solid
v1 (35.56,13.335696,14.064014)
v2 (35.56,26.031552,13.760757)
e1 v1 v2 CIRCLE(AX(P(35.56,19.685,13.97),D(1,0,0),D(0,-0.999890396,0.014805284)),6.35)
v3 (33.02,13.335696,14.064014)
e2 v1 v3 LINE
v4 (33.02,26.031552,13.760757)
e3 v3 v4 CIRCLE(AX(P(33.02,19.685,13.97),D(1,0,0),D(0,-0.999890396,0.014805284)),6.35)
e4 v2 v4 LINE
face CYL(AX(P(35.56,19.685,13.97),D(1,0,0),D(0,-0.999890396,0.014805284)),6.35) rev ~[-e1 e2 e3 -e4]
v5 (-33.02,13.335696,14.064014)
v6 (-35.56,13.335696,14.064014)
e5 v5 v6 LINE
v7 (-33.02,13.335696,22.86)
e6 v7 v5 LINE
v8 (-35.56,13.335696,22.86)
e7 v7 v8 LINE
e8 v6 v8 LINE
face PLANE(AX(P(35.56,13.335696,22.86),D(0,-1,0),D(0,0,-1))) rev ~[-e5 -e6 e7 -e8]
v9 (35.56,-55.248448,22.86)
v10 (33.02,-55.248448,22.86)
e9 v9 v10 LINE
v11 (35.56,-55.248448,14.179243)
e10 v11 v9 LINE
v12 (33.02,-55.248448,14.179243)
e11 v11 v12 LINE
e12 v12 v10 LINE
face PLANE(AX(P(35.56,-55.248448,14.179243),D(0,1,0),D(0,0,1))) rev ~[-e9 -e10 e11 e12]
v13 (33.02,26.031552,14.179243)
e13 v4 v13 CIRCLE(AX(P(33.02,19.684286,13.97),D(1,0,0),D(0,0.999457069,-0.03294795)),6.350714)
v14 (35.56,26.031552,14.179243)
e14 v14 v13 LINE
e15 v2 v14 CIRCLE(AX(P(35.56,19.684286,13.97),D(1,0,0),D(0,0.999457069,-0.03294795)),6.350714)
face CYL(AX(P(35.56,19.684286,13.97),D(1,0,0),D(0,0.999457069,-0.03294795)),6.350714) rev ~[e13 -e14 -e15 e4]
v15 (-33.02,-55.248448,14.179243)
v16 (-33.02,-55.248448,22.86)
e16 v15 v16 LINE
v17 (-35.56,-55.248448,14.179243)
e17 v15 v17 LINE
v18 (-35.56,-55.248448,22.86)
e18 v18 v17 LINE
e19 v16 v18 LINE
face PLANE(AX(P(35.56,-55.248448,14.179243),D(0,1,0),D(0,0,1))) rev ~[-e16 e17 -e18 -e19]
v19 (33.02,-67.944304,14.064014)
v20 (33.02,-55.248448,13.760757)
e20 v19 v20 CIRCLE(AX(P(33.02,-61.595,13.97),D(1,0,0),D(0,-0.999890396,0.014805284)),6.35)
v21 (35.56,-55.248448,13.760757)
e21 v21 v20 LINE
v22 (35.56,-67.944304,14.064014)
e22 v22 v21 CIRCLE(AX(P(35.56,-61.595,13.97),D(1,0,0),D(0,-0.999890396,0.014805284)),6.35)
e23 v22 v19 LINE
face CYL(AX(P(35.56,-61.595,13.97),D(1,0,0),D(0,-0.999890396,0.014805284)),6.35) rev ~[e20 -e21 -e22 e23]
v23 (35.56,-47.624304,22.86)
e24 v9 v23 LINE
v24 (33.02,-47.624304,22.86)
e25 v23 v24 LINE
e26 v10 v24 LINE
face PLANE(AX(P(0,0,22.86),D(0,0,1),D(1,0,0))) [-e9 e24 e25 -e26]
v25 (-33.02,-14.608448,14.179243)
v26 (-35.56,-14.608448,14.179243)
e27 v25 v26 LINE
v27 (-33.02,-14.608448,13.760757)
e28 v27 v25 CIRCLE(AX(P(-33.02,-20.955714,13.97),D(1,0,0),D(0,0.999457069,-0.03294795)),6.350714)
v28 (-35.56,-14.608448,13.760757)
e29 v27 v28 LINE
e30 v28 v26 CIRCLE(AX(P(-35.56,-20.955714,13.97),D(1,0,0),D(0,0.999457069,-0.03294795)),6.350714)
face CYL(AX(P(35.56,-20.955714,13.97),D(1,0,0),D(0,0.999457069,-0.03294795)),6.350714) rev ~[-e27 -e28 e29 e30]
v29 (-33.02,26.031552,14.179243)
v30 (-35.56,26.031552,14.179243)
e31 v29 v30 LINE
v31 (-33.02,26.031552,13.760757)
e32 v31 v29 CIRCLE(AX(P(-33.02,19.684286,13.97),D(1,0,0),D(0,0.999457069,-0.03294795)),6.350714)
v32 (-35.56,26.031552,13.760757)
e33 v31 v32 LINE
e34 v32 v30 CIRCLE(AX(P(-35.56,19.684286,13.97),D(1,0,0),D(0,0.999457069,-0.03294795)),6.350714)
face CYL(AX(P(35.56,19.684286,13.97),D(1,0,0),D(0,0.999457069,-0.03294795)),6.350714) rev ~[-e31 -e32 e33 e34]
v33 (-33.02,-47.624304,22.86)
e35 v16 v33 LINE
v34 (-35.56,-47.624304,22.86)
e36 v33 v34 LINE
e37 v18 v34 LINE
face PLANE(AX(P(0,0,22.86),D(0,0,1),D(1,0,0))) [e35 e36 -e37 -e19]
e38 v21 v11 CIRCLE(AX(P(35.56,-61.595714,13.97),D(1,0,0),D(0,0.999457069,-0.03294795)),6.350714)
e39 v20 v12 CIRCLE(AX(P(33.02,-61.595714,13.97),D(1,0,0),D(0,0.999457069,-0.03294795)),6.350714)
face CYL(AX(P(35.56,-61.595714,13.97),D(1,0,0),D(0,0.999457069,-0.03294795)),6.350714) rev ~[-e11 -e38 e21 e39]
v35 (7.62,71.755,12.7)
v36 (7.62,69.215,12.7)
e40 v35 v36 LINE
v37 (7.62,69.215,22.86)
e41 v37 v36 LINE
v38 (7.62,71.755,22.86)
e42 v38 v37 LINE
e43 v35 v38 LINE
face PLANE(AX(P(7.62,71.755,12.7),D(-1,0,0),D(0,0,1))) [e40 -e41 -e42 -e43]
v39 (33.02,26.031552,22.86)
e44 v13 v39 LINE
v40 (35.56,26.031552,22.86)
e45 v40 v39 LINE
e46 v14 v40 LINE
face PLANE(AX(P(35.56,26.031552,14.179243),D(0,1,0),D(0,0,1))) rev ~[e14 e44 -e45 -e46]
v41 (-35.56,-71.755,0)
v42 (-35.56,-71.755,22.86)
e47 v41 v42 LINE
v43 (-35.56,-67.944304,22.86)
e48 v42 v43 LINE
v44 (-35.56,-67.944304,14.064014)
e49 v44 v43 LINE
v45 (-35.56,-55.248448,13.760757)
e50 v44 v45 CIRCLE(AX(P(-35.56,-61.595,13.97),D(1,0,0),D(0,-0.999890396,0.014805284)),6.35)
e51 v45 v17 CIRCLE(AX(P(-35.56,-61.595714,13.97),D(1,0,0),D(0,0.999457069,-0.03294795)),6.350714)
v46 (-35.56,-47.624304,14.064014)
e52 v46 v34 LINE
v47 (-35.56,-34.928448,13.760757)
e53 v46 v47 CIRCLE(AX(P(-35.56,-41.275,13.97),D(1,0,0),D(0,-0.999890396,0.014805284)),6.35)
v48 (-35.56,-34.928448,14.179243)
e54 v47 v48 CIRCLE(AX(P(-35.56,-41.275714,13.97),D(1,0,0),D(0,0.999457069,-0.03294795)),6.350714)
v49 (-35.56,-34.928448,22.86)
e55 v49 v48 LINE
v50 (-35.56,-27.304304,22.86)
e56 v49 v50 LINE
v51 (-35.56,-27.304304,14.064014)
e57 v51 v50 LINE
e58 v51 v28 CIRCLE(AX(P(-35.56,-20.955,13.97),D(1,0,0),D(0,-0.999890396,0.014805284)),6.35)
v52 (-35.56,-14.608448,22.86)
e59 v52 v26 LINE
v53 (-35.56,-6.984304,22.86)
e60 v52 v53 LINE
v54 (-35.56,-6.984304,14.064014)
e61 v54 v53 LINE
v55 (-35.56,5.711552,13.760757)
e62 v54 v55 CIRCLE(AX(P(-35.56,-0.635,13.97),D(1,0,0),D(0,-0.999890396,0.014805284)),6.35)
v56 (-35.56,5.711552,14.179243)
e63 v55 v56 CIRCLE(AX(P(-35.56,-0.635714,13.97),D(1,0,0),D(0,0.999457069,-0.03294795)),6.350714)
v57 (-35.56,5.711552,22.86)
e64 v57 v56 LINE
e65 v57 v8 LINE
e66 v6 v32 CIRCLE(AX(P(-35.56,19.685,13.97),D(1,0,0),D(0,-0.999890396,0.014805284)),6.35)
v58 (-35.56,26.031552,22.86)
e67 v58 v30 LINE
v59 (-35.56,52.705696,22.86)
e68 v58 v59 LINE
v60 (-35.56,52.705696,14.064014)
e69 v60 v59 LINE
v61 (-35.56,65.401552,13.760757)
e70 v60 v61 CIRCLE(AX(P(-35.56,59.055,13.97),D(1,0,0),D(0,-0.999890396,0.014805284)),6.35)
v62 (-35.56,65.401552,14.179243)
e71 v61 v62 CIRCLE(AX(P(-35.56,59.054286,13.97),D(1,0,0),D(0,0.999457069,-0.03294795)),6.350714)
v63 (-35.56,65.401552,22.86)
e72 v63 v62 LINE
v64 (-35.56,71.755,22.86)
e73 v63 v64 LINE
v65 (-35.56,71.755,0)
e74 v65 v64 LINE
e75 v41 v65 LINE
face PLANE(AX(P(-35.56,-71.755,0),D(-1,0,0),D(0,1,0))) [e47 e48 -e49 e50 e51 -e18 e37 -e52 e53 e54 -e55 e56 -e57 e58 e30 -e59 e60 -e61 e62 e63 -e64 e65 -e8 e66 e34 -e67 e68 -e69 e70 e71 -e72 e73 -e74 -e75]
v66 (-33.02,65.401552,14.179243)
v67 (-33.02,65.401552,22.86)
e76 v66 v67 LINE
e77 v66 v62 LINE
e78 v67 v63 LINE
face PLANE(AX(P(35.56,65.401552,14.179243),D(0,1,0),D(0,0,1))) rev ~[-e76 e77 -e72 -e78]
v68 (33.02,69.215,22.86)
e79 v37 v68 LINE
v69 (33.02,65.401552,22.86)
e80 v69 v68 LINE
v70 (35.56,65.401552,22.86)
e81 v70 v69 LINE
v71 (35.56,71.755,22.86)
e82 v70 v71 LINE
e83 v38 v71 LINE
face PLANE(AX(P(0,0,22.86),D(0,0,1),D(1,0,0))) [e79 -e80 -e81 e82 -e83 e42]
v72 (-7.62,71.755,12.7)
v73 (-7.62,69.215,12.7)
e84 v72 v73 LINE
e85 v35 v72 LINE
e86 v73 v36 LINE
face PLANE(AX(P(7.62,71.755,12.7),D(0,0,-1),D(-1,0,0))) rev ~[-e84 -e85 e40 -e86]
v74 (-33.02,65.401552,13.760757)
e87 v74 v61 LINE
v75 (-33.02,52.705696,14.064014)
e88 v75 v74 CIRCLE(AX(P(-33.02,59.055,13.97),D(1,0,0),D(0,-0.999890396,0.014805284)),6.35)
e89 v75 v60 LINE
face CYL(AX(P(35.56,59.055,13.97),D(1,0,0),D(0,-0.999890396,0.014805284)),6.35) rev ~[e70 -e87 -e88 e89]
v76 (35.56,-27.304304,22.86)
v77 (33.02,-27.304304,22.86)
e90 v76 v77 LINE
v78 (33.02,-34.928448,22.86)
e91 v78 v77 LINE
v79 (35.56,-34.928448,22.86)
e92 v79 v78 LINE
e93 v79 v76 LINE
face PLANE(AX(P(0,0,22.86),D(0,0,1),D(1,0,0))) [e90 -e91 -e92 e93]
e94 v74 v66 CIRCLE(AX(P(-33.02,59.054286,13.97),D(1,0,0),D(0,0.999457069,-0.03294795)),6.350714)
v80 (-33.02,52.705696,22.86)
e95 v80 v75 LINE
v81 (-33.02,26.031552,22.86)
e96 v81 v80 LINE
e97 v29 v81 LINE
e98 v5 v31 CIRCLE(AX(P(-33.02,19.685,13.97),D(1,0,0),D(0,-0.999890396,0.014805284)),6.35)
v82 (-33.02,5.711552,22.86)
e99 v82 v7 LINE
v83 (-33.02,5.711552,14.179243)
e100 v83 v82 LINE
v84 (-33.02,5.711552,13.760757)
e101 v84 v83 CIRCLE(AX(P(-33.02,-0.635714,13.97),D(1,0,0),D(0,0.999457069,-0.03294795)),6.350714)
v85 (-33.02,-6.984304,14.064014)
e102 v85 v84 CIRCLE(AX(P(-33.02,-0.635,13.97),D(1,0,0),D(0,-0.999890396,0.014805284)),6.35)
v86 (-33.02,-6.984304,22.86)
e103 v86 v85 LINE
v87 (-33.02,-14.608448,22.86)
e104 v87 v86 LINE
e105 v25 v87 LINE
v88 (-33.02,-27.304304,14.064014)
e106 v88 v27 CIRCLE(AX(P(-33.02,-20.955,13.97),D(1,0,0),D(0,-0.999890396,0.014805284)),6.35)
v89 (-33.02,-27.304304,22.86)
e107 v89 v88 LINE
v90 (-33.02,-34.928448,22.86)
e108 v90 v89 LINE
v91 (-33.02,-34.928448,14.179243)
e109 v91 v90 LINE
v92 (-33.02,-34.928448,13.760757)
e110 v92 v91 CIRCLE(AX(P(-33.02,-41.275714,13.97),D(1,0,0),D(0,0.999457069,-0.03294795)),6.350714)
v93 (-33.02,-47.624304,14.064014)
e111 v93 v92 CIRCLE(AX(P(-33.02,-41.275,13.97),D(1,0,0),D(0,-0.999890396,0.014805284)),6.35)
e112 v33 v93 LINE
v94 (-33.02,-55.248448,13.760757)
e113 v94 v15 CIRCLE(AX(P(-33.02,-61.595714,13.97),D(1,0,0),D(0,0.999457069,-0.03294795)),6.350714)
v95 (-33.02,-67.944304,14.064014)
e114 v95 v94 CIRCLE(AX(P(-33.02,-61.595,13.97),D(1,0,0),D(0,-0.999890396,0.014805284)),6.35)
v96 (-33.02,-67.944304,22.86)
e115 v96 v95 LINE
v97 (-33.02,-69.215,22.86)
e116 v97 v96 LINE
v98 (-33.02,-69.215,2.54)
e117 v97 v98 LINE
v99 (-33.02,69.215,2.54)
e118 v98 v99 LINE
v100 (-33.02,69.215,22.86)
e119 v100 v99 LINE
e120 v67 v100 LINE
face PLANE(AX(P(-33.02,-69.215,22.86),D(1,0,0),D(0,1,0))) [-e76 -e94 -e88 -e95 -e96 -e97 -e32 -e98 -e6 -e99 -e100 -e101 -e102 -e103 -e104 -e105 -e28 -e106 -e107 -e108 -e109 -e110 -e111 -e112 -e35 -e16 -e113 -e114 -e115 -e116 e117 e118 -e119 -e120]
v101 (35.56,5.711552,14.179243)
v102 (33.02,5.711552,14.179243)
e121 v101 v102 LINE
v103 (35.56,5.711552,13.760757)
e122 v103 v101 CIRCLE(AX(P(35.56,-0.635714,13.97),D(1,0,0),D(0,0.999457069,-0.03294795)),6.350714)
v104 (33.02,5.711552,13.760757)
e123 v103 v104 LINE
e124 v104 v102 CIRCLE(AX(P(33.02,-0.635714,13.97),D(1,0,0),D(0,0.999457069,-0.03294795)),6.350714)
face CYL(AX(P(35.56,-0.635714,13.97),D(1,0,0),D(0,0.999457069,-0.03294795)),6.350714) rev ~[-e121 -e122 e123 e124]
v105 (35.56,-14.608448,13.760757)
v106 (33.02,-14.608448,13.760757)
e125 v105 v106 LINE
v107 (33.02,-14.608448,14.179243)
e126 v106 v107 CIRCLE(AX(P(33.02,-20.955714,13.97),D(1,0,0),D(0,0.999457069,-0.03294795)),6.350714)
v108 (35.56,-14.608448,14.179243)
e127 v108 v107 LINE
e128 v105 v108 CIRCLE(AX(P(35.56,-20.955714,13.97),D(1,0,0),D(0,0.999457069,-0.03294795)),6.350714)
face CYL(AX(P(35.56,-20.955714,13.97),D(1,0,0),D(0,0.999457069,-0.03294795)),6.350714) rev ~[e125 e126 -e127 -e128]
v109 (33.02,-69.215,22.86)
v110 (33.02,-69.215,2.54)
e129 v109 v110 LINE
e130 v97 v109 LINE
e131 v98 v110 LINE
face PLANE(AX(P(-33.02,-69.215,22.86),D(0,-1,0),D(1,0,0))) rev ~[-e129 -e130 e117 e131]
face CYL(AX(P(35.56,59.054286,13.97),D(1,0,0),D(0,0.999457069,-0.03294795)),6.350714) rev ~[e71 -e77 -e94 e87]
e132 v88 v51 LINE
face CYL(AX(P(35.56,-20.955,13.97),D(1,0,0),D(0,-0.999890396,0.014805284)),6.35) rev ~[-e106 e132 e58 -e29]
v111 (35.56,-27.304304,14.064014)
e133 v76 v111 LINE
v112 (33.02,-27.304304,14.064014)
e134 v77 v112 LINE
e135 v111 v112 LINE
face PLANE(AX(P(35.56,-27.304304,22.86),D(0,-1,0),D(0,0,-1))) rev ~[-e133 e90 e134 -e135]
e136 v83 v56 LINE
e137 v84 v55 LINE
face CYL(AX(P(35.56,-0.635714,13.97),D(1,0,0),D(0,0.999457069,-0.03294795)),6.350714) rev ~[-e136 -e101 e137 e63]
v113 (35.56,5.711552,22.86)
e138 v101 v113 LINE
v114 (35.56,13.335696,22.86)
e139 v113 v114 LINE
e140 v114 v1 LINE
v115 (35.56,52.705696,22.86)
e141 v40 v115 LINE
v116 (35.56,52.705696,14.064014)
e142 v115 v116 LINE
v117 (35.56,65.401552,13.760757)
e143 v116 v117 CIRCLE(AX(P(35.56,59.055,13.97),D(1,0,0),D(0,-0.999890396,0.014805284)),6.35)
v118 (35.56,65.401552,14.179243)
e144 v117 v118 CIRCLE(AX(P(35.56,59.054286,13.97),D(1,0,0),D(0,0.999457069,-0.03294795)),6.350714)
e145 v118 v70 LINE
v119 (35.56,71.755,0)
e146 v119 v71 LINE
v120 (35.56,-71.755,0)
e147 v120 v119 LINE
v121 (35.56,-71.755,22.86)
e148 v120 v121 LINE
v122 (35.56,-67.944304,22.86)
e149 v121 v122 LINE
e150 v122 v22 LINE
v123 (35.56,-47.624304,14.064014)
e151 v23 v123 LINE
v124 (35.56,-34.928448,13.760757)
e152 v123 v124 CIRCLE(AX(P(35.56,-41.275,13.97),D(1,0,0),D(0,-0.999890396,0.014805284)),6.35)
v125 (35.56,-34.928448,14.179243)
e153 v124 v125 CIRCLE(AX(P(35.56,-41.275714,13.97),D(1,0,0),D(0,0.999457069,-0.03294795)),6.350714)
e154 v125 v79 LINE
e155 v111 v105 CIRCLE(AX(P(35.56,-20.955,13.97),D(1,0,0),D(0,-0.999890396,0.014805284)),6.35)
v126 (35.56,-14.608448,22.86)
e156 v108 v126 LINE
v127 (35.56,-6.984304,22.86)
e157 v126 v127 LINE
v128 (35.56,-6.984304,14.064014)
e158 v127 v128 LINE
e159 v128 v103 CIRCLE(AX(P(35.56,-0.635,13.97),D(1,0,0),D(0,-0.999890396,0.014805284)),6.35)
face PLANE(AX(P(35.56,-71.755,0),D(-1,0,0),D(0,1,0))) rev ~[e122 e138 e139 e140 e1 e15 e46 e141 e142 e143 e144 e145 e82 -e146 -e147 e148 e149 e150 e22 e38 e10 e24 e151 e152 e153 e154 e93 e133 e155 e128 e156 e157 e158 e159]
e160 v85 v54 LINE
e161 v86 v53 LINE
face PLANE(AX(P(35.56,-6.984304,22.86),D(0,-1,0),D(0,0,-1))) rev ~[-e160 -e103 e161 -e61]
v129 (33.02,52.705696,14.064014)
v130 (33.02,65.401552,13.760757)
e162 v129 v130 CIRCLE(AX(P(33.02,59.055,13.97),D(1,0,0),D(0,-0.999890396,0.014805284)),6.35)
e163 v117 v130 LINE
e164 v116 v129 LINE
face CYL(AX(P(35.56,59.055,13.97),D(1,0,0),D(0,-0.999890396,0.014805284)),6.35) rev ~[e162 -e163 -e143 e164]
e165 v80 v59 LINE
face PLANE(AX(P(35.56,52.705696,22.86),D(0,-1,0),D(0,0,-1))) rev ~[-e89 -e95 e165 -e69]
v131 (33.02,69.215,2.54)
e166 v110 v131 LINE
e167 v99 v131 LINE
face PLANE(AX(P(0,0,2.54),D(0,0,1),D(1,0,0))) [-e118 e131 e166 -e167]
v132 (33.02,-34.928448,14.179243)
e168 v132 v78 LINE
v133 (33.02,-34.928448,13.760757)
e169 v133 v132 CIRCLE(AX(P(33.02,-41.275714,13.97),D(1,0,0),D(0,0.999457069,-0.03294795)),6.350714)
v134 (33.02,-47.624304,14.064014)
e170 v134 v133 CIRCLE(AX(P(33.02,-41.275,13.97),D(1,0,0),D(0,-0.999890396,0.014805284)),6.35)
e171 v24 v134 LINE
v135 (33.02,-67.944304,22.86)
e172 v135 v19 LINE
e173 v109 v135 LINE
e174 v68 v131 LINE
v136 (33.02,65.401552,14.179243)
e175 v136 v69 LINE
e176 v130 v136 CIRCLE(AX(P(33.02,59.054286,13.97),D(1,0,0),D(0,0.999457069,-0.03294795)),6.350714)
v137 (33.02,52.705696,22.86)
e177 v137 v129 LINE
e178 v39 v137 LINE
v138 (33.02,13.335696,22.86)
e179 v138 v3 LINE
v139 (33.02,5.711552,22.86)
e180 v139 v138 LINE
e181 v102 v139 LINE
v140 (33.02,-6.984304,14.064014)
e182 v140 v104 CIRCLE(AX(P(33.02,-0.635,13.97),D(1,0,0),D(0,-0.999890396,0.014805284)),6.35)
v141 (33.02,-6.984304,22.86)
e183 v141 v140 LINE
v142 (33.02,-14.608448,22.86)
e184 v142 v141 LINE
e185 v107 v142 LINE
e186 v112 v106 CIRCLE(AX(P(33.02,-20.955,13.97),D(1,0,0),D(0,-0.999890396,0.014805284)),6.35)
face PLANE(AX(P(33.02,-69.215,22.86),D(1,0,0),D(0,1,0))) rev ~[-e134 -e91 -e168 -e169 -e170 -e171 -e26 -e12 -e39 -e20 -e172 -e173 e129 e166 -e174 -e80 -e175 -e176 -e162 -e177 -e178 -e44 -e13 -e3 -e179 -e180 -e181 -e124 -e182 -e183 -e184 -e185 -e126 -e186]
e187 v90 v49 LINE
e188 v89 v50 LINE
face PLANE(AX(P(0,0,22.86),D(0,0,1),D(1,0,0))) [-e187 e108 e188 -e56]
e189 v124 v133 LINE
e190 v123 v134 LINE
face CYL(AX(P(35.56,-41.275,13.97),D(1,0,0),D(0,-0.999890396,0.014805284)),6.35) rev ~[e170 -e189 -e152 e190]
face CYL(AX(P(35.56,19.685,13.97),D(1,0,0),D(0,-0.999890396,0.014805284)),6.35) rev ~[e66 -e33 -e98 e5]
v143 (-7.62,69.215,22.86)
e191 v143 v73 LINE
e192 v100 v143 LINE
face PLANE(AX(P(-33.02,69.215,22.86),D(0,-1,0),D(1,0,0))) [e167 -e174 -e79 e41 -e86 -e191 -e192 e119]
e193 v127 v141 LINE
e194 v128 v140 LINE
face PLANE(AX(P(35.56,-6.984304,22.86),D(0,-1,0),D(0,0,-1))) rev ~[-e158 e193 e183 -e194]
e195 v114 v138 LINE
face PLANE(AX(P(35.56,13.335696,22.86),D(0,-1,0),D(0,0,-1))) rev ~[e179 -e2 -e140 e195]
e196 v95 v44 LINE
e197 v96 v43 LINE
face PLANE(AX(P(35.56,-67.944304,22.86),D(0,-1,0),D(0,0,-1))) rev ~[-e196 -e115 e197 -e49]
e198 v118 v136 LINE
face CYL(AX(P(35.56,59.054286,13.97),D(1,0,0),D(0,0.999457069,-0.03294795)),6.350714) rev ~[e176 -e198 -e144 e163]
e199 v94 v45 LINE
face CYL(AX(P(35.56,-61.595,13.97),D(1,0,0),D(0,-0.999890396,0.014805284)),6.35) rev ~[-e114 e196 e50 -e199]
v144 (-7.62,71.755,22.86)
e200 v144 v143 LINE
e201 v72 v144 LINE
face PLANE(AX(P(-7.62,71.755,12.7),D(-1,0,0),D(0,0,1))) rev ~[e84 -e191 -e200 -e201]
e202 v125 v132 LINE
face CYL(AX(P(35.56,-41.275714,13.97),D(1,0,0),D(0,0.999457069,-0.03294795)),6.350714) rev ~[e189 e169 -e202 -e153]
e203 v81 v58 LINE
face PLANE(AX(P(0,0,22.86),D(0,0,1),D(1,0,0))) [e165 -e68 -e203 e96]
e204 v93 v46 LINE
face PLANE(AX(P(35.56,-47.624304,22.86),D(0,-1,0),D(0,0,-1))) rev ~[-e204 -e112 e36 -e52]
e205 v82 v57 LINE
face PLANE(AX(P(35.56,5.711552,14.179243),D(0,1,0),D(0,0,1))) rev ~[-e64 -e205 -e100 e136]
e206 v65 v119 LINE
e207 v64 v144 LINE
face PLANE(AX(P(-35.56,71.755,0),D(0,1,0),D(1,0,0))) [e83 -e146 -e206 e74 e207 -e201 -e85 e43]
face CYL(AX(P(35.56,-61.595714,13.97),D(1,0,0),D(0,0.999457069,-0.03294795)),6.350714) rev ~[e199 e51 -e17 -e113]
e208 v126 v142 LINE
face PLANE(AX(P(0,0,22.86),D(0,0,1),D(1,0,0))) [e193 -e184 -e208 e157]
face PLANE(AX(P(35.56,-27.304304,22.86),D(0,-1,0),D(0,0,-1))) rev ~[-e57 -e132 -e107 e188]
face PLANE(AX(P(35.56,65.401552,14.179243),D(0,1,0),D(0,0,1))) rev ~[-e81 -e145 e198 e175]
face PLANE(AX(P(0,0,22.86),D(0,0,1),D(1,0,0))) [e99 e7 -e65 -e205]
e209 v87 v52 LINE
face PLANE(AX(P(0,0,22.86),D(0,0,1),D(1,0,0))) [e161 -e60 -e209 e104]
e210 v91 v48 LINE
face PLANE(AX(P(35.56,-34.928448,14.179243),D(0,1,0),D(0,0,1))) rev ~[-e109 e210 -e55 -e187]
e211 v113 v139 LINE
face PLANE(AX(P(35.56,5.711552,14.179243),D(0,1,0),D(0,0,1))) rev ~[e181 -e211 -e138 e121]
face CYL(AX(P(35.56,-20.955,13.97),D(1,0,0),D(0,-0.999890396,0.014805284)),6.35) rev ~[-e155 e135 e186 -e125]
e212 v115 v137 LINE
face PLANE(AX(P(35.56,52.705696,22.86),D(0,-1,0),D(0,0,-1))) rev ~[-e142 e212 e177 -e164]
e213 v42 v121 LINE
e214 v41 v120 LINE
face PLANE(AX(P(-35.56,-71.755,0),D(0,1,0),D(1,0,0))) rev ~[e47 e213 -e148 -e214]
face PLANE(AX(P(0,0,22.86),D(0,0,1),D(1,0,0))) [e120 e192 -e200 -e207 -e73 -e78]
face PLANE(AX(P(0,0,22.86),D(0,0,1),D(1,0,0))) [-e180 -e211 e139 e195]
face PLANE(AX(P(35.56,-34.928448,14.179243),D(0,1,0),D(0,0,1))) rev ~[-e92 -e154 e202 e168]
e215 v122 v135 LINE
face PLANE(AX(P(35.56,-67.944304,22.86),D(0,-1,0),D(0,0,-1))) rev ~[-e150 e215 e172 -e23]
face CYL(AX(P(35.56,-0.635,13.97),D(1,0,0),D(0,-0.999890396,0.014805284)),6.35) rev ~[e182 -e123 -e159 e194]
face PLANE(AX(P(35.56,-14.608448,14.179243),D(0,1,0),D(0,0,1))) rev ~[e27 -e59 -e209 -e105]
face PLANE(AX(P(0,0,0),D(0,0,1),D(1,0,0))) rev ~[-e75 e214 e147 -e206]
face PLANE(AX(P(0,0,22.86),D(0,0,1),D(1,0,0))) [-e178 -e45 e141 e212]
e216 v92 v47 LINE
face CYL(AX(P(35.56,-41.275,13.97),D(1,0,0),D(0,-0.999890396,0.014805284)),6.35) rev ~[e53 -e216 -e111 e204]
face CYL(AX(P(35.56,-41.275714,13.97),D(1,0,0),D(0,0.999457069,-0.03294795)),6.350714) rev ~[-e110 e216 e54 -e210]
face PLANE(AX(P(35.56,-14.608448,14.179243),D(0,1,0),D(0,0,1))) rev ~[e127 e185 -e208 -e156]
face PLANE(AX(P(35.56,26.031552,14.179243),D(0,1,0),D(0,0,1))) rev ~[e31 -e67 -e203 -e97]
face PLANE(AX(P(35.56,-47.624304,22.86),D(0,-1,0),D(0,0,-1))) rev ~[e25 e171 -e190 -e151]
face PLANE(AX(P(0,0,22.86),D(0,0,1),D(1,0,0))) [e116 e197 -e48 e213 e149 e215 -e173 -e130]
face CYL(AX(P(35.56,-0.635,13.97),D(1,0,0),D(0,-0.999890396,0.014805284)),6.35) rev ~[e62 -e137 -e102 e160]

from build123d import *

# Parameters (mm, degrees)
F0_W     = 71.12
F0_H     = 143.51
F1_DEPTH = 22.86
F2_W     = 66.04
F2_H     = 138.43
F3_DEPTH = 20.32
F5_DEPTH = 71.121
F6_W     = 15.24
F6_H     = 20.32
F7_DEPTH = 25.4


with BuildPart() as f1:
    # F0 (on Top) → F1 (new body)
    with BuildSketch(Plane.XY):
        Rectangle(F0_W, F0_H)
    extrude(amount=F1_DEPTH)

    # F2 (on face) → F3 (cut)
    with BuildSketch(Plane.XY.offset(22.86)):
        Rectangle(F2_W, F2_H)
    extrude(amount=-F3_DEPTH, mode=Mode.SUBTRACT)

    # F4 (on face) → F5 (cut, through all)
    with BuildSketch(Plane.YZ.offset(35.56)):
        with BuildLine():
            Line((-67.944304, 22.86), (-67.944304, 14.064014))
            ThreePointArc((-67.944304, 14.064014), (-61.746635, 7.621811), (-55.248448, 13.760757))
            Line((-55.248448, 13.760757), (-55.248448, 14.179243))
            Line((-55.248448, 14.179243), (-55.248448, 22.86))
            Line((-55.248448, 22.86), (-67.944304, 22.86))
        make_face()
        with BuildLine():
            Line((-55.248448, 14.179243), (-55.248448, 13.760757))
            ThreePointArc((-55.248448, 13.760757), (-55.245, 13.97), (-55.248448, 14.179243))
        make_face()
        with BuildLine():
            Line((-34.928448, 14.179243), (-34.928448, 22.86))
            Line((-34.928448, 22.86), (-47.624304, 22.86))
            Line((-47.624304, 22.86), (-47.624304, 14.064014))
            ThreePointArc((-47.624304, 14.064014), (-41.426635, 7.621811), (-34.928448, 13.760757))
            Line((-34.928448, 13.760757), (-34.928448, 14.179243))
        make_face()
        with BuildLine():
            ThreePointArc((-34.928448, 13.760757), (-34.925, 13.97), (-34.928448, 14.179243))
            Line((-34.928448, 14.179243), (-34.928448, 13.760757))
        make_face()
        with BuildLine():
            Line((-14.608448, 14.179243), (-14.608448, 22.86))
            Line((-14.608448, 22.86), (-27.304304, 22.86))
            Line((-27.304304, 22.86), (-27.304304, 14.064014))
            ThreePointArc((-27.304304, 14.064014), (-21.106635, 7.621811), (-14.608448, 13.760757))
            Line((-14.608448, 13.760757), (-14.608448, 14.179243))
        make_face()
        with BuildLine():
            ThreePointArc((-14.608448, 13.760757), (-14.605, 13.97), (-14.608448, 14.179243))
            Line((-14.608448, 14.179243), (-14.608448, 13.760757))
        make_face()
        with BuildLine():
            Line((5.711552, 14.179243), (5.711552, 22.86))
            Line((5.711552, 22.86), (-6.984304, 22.86))
            Line((-6.984304, 22.86), (-6.984304, 14.064014))
            ThreePointArc((-6.984304, 14.064014), (-0.786635, 7.621811), (5.711552, 13.760757))
            Line((5.711552, 13.760757), (5.711552, 14.179243))
        make_face()
        with BuildLine():
            ThreePointArc((5.711552, 13.760757), (5.715, 13.97), (5.711552, 14.179243))
            Line((5.711552, 14.179243), (5.711552, 13.760757))
        make_face()
        with BuildLine():
            Line((26.031552, 14.179243), (26.031552, 22.86))
            Line((26.031552, 22.86), (13.335696, 22.86))
            Line((13.335696, 22.86), (13.335696, 14.064014))
            ThreePointArc((13.335696, 14.064014), (19.533365, 7.621811), (26.031552, 13.760757))
            Line((26.031552, 13.760757), (26.031552, 14.179243))
        make_face()
        with BuildLine():
            ThreePointArc((26.031552, 13.760757), (26.035, 13.97), (26.031552, 14.179243))
            Line((26.031552, 14.179243), (26.031552, 13.760757))
        make_face()
        with BuildLine():
            Line((52.705696, 22.86), (52.705696, 14.064014))
            ThreePointArc((52.705696, 14.064014), (58.903365, 7.621811), (65.401552, 13.760757))
            Line((65.401552, 13.760757), (65.401552, 14.179243))
            Line((65.401552, 14.179243), (65.401552, 22.86))
            Line((65.401552, 22.86), (52.705696, 22.86))
        make_face()
        with BuildLine():
            Line((65.401552, 14.179243), (65.401552, 13.760757))
            ThreePointArc((65.401552, 13.760757), (65.405, 13.97), (65.401552, 14.179243))
        make_face()
    extrude(amount=-F5_DEPTH, mode=Mode.SUBTRACT)

    # F6 (on face) → F7 (cut)
    with BuildSketch(Plane(origin=(0, 71.755, 0), x_dir=(-1, 0, 0), z_dir=(0, 1, 0))):
        with Locations((0, 22.86)):
            Rectangle(F6_W, F6_H)
    extrude(amount=-F7_DEPTH, mode=Mode.SUBTRACT)


solid = f1.part
